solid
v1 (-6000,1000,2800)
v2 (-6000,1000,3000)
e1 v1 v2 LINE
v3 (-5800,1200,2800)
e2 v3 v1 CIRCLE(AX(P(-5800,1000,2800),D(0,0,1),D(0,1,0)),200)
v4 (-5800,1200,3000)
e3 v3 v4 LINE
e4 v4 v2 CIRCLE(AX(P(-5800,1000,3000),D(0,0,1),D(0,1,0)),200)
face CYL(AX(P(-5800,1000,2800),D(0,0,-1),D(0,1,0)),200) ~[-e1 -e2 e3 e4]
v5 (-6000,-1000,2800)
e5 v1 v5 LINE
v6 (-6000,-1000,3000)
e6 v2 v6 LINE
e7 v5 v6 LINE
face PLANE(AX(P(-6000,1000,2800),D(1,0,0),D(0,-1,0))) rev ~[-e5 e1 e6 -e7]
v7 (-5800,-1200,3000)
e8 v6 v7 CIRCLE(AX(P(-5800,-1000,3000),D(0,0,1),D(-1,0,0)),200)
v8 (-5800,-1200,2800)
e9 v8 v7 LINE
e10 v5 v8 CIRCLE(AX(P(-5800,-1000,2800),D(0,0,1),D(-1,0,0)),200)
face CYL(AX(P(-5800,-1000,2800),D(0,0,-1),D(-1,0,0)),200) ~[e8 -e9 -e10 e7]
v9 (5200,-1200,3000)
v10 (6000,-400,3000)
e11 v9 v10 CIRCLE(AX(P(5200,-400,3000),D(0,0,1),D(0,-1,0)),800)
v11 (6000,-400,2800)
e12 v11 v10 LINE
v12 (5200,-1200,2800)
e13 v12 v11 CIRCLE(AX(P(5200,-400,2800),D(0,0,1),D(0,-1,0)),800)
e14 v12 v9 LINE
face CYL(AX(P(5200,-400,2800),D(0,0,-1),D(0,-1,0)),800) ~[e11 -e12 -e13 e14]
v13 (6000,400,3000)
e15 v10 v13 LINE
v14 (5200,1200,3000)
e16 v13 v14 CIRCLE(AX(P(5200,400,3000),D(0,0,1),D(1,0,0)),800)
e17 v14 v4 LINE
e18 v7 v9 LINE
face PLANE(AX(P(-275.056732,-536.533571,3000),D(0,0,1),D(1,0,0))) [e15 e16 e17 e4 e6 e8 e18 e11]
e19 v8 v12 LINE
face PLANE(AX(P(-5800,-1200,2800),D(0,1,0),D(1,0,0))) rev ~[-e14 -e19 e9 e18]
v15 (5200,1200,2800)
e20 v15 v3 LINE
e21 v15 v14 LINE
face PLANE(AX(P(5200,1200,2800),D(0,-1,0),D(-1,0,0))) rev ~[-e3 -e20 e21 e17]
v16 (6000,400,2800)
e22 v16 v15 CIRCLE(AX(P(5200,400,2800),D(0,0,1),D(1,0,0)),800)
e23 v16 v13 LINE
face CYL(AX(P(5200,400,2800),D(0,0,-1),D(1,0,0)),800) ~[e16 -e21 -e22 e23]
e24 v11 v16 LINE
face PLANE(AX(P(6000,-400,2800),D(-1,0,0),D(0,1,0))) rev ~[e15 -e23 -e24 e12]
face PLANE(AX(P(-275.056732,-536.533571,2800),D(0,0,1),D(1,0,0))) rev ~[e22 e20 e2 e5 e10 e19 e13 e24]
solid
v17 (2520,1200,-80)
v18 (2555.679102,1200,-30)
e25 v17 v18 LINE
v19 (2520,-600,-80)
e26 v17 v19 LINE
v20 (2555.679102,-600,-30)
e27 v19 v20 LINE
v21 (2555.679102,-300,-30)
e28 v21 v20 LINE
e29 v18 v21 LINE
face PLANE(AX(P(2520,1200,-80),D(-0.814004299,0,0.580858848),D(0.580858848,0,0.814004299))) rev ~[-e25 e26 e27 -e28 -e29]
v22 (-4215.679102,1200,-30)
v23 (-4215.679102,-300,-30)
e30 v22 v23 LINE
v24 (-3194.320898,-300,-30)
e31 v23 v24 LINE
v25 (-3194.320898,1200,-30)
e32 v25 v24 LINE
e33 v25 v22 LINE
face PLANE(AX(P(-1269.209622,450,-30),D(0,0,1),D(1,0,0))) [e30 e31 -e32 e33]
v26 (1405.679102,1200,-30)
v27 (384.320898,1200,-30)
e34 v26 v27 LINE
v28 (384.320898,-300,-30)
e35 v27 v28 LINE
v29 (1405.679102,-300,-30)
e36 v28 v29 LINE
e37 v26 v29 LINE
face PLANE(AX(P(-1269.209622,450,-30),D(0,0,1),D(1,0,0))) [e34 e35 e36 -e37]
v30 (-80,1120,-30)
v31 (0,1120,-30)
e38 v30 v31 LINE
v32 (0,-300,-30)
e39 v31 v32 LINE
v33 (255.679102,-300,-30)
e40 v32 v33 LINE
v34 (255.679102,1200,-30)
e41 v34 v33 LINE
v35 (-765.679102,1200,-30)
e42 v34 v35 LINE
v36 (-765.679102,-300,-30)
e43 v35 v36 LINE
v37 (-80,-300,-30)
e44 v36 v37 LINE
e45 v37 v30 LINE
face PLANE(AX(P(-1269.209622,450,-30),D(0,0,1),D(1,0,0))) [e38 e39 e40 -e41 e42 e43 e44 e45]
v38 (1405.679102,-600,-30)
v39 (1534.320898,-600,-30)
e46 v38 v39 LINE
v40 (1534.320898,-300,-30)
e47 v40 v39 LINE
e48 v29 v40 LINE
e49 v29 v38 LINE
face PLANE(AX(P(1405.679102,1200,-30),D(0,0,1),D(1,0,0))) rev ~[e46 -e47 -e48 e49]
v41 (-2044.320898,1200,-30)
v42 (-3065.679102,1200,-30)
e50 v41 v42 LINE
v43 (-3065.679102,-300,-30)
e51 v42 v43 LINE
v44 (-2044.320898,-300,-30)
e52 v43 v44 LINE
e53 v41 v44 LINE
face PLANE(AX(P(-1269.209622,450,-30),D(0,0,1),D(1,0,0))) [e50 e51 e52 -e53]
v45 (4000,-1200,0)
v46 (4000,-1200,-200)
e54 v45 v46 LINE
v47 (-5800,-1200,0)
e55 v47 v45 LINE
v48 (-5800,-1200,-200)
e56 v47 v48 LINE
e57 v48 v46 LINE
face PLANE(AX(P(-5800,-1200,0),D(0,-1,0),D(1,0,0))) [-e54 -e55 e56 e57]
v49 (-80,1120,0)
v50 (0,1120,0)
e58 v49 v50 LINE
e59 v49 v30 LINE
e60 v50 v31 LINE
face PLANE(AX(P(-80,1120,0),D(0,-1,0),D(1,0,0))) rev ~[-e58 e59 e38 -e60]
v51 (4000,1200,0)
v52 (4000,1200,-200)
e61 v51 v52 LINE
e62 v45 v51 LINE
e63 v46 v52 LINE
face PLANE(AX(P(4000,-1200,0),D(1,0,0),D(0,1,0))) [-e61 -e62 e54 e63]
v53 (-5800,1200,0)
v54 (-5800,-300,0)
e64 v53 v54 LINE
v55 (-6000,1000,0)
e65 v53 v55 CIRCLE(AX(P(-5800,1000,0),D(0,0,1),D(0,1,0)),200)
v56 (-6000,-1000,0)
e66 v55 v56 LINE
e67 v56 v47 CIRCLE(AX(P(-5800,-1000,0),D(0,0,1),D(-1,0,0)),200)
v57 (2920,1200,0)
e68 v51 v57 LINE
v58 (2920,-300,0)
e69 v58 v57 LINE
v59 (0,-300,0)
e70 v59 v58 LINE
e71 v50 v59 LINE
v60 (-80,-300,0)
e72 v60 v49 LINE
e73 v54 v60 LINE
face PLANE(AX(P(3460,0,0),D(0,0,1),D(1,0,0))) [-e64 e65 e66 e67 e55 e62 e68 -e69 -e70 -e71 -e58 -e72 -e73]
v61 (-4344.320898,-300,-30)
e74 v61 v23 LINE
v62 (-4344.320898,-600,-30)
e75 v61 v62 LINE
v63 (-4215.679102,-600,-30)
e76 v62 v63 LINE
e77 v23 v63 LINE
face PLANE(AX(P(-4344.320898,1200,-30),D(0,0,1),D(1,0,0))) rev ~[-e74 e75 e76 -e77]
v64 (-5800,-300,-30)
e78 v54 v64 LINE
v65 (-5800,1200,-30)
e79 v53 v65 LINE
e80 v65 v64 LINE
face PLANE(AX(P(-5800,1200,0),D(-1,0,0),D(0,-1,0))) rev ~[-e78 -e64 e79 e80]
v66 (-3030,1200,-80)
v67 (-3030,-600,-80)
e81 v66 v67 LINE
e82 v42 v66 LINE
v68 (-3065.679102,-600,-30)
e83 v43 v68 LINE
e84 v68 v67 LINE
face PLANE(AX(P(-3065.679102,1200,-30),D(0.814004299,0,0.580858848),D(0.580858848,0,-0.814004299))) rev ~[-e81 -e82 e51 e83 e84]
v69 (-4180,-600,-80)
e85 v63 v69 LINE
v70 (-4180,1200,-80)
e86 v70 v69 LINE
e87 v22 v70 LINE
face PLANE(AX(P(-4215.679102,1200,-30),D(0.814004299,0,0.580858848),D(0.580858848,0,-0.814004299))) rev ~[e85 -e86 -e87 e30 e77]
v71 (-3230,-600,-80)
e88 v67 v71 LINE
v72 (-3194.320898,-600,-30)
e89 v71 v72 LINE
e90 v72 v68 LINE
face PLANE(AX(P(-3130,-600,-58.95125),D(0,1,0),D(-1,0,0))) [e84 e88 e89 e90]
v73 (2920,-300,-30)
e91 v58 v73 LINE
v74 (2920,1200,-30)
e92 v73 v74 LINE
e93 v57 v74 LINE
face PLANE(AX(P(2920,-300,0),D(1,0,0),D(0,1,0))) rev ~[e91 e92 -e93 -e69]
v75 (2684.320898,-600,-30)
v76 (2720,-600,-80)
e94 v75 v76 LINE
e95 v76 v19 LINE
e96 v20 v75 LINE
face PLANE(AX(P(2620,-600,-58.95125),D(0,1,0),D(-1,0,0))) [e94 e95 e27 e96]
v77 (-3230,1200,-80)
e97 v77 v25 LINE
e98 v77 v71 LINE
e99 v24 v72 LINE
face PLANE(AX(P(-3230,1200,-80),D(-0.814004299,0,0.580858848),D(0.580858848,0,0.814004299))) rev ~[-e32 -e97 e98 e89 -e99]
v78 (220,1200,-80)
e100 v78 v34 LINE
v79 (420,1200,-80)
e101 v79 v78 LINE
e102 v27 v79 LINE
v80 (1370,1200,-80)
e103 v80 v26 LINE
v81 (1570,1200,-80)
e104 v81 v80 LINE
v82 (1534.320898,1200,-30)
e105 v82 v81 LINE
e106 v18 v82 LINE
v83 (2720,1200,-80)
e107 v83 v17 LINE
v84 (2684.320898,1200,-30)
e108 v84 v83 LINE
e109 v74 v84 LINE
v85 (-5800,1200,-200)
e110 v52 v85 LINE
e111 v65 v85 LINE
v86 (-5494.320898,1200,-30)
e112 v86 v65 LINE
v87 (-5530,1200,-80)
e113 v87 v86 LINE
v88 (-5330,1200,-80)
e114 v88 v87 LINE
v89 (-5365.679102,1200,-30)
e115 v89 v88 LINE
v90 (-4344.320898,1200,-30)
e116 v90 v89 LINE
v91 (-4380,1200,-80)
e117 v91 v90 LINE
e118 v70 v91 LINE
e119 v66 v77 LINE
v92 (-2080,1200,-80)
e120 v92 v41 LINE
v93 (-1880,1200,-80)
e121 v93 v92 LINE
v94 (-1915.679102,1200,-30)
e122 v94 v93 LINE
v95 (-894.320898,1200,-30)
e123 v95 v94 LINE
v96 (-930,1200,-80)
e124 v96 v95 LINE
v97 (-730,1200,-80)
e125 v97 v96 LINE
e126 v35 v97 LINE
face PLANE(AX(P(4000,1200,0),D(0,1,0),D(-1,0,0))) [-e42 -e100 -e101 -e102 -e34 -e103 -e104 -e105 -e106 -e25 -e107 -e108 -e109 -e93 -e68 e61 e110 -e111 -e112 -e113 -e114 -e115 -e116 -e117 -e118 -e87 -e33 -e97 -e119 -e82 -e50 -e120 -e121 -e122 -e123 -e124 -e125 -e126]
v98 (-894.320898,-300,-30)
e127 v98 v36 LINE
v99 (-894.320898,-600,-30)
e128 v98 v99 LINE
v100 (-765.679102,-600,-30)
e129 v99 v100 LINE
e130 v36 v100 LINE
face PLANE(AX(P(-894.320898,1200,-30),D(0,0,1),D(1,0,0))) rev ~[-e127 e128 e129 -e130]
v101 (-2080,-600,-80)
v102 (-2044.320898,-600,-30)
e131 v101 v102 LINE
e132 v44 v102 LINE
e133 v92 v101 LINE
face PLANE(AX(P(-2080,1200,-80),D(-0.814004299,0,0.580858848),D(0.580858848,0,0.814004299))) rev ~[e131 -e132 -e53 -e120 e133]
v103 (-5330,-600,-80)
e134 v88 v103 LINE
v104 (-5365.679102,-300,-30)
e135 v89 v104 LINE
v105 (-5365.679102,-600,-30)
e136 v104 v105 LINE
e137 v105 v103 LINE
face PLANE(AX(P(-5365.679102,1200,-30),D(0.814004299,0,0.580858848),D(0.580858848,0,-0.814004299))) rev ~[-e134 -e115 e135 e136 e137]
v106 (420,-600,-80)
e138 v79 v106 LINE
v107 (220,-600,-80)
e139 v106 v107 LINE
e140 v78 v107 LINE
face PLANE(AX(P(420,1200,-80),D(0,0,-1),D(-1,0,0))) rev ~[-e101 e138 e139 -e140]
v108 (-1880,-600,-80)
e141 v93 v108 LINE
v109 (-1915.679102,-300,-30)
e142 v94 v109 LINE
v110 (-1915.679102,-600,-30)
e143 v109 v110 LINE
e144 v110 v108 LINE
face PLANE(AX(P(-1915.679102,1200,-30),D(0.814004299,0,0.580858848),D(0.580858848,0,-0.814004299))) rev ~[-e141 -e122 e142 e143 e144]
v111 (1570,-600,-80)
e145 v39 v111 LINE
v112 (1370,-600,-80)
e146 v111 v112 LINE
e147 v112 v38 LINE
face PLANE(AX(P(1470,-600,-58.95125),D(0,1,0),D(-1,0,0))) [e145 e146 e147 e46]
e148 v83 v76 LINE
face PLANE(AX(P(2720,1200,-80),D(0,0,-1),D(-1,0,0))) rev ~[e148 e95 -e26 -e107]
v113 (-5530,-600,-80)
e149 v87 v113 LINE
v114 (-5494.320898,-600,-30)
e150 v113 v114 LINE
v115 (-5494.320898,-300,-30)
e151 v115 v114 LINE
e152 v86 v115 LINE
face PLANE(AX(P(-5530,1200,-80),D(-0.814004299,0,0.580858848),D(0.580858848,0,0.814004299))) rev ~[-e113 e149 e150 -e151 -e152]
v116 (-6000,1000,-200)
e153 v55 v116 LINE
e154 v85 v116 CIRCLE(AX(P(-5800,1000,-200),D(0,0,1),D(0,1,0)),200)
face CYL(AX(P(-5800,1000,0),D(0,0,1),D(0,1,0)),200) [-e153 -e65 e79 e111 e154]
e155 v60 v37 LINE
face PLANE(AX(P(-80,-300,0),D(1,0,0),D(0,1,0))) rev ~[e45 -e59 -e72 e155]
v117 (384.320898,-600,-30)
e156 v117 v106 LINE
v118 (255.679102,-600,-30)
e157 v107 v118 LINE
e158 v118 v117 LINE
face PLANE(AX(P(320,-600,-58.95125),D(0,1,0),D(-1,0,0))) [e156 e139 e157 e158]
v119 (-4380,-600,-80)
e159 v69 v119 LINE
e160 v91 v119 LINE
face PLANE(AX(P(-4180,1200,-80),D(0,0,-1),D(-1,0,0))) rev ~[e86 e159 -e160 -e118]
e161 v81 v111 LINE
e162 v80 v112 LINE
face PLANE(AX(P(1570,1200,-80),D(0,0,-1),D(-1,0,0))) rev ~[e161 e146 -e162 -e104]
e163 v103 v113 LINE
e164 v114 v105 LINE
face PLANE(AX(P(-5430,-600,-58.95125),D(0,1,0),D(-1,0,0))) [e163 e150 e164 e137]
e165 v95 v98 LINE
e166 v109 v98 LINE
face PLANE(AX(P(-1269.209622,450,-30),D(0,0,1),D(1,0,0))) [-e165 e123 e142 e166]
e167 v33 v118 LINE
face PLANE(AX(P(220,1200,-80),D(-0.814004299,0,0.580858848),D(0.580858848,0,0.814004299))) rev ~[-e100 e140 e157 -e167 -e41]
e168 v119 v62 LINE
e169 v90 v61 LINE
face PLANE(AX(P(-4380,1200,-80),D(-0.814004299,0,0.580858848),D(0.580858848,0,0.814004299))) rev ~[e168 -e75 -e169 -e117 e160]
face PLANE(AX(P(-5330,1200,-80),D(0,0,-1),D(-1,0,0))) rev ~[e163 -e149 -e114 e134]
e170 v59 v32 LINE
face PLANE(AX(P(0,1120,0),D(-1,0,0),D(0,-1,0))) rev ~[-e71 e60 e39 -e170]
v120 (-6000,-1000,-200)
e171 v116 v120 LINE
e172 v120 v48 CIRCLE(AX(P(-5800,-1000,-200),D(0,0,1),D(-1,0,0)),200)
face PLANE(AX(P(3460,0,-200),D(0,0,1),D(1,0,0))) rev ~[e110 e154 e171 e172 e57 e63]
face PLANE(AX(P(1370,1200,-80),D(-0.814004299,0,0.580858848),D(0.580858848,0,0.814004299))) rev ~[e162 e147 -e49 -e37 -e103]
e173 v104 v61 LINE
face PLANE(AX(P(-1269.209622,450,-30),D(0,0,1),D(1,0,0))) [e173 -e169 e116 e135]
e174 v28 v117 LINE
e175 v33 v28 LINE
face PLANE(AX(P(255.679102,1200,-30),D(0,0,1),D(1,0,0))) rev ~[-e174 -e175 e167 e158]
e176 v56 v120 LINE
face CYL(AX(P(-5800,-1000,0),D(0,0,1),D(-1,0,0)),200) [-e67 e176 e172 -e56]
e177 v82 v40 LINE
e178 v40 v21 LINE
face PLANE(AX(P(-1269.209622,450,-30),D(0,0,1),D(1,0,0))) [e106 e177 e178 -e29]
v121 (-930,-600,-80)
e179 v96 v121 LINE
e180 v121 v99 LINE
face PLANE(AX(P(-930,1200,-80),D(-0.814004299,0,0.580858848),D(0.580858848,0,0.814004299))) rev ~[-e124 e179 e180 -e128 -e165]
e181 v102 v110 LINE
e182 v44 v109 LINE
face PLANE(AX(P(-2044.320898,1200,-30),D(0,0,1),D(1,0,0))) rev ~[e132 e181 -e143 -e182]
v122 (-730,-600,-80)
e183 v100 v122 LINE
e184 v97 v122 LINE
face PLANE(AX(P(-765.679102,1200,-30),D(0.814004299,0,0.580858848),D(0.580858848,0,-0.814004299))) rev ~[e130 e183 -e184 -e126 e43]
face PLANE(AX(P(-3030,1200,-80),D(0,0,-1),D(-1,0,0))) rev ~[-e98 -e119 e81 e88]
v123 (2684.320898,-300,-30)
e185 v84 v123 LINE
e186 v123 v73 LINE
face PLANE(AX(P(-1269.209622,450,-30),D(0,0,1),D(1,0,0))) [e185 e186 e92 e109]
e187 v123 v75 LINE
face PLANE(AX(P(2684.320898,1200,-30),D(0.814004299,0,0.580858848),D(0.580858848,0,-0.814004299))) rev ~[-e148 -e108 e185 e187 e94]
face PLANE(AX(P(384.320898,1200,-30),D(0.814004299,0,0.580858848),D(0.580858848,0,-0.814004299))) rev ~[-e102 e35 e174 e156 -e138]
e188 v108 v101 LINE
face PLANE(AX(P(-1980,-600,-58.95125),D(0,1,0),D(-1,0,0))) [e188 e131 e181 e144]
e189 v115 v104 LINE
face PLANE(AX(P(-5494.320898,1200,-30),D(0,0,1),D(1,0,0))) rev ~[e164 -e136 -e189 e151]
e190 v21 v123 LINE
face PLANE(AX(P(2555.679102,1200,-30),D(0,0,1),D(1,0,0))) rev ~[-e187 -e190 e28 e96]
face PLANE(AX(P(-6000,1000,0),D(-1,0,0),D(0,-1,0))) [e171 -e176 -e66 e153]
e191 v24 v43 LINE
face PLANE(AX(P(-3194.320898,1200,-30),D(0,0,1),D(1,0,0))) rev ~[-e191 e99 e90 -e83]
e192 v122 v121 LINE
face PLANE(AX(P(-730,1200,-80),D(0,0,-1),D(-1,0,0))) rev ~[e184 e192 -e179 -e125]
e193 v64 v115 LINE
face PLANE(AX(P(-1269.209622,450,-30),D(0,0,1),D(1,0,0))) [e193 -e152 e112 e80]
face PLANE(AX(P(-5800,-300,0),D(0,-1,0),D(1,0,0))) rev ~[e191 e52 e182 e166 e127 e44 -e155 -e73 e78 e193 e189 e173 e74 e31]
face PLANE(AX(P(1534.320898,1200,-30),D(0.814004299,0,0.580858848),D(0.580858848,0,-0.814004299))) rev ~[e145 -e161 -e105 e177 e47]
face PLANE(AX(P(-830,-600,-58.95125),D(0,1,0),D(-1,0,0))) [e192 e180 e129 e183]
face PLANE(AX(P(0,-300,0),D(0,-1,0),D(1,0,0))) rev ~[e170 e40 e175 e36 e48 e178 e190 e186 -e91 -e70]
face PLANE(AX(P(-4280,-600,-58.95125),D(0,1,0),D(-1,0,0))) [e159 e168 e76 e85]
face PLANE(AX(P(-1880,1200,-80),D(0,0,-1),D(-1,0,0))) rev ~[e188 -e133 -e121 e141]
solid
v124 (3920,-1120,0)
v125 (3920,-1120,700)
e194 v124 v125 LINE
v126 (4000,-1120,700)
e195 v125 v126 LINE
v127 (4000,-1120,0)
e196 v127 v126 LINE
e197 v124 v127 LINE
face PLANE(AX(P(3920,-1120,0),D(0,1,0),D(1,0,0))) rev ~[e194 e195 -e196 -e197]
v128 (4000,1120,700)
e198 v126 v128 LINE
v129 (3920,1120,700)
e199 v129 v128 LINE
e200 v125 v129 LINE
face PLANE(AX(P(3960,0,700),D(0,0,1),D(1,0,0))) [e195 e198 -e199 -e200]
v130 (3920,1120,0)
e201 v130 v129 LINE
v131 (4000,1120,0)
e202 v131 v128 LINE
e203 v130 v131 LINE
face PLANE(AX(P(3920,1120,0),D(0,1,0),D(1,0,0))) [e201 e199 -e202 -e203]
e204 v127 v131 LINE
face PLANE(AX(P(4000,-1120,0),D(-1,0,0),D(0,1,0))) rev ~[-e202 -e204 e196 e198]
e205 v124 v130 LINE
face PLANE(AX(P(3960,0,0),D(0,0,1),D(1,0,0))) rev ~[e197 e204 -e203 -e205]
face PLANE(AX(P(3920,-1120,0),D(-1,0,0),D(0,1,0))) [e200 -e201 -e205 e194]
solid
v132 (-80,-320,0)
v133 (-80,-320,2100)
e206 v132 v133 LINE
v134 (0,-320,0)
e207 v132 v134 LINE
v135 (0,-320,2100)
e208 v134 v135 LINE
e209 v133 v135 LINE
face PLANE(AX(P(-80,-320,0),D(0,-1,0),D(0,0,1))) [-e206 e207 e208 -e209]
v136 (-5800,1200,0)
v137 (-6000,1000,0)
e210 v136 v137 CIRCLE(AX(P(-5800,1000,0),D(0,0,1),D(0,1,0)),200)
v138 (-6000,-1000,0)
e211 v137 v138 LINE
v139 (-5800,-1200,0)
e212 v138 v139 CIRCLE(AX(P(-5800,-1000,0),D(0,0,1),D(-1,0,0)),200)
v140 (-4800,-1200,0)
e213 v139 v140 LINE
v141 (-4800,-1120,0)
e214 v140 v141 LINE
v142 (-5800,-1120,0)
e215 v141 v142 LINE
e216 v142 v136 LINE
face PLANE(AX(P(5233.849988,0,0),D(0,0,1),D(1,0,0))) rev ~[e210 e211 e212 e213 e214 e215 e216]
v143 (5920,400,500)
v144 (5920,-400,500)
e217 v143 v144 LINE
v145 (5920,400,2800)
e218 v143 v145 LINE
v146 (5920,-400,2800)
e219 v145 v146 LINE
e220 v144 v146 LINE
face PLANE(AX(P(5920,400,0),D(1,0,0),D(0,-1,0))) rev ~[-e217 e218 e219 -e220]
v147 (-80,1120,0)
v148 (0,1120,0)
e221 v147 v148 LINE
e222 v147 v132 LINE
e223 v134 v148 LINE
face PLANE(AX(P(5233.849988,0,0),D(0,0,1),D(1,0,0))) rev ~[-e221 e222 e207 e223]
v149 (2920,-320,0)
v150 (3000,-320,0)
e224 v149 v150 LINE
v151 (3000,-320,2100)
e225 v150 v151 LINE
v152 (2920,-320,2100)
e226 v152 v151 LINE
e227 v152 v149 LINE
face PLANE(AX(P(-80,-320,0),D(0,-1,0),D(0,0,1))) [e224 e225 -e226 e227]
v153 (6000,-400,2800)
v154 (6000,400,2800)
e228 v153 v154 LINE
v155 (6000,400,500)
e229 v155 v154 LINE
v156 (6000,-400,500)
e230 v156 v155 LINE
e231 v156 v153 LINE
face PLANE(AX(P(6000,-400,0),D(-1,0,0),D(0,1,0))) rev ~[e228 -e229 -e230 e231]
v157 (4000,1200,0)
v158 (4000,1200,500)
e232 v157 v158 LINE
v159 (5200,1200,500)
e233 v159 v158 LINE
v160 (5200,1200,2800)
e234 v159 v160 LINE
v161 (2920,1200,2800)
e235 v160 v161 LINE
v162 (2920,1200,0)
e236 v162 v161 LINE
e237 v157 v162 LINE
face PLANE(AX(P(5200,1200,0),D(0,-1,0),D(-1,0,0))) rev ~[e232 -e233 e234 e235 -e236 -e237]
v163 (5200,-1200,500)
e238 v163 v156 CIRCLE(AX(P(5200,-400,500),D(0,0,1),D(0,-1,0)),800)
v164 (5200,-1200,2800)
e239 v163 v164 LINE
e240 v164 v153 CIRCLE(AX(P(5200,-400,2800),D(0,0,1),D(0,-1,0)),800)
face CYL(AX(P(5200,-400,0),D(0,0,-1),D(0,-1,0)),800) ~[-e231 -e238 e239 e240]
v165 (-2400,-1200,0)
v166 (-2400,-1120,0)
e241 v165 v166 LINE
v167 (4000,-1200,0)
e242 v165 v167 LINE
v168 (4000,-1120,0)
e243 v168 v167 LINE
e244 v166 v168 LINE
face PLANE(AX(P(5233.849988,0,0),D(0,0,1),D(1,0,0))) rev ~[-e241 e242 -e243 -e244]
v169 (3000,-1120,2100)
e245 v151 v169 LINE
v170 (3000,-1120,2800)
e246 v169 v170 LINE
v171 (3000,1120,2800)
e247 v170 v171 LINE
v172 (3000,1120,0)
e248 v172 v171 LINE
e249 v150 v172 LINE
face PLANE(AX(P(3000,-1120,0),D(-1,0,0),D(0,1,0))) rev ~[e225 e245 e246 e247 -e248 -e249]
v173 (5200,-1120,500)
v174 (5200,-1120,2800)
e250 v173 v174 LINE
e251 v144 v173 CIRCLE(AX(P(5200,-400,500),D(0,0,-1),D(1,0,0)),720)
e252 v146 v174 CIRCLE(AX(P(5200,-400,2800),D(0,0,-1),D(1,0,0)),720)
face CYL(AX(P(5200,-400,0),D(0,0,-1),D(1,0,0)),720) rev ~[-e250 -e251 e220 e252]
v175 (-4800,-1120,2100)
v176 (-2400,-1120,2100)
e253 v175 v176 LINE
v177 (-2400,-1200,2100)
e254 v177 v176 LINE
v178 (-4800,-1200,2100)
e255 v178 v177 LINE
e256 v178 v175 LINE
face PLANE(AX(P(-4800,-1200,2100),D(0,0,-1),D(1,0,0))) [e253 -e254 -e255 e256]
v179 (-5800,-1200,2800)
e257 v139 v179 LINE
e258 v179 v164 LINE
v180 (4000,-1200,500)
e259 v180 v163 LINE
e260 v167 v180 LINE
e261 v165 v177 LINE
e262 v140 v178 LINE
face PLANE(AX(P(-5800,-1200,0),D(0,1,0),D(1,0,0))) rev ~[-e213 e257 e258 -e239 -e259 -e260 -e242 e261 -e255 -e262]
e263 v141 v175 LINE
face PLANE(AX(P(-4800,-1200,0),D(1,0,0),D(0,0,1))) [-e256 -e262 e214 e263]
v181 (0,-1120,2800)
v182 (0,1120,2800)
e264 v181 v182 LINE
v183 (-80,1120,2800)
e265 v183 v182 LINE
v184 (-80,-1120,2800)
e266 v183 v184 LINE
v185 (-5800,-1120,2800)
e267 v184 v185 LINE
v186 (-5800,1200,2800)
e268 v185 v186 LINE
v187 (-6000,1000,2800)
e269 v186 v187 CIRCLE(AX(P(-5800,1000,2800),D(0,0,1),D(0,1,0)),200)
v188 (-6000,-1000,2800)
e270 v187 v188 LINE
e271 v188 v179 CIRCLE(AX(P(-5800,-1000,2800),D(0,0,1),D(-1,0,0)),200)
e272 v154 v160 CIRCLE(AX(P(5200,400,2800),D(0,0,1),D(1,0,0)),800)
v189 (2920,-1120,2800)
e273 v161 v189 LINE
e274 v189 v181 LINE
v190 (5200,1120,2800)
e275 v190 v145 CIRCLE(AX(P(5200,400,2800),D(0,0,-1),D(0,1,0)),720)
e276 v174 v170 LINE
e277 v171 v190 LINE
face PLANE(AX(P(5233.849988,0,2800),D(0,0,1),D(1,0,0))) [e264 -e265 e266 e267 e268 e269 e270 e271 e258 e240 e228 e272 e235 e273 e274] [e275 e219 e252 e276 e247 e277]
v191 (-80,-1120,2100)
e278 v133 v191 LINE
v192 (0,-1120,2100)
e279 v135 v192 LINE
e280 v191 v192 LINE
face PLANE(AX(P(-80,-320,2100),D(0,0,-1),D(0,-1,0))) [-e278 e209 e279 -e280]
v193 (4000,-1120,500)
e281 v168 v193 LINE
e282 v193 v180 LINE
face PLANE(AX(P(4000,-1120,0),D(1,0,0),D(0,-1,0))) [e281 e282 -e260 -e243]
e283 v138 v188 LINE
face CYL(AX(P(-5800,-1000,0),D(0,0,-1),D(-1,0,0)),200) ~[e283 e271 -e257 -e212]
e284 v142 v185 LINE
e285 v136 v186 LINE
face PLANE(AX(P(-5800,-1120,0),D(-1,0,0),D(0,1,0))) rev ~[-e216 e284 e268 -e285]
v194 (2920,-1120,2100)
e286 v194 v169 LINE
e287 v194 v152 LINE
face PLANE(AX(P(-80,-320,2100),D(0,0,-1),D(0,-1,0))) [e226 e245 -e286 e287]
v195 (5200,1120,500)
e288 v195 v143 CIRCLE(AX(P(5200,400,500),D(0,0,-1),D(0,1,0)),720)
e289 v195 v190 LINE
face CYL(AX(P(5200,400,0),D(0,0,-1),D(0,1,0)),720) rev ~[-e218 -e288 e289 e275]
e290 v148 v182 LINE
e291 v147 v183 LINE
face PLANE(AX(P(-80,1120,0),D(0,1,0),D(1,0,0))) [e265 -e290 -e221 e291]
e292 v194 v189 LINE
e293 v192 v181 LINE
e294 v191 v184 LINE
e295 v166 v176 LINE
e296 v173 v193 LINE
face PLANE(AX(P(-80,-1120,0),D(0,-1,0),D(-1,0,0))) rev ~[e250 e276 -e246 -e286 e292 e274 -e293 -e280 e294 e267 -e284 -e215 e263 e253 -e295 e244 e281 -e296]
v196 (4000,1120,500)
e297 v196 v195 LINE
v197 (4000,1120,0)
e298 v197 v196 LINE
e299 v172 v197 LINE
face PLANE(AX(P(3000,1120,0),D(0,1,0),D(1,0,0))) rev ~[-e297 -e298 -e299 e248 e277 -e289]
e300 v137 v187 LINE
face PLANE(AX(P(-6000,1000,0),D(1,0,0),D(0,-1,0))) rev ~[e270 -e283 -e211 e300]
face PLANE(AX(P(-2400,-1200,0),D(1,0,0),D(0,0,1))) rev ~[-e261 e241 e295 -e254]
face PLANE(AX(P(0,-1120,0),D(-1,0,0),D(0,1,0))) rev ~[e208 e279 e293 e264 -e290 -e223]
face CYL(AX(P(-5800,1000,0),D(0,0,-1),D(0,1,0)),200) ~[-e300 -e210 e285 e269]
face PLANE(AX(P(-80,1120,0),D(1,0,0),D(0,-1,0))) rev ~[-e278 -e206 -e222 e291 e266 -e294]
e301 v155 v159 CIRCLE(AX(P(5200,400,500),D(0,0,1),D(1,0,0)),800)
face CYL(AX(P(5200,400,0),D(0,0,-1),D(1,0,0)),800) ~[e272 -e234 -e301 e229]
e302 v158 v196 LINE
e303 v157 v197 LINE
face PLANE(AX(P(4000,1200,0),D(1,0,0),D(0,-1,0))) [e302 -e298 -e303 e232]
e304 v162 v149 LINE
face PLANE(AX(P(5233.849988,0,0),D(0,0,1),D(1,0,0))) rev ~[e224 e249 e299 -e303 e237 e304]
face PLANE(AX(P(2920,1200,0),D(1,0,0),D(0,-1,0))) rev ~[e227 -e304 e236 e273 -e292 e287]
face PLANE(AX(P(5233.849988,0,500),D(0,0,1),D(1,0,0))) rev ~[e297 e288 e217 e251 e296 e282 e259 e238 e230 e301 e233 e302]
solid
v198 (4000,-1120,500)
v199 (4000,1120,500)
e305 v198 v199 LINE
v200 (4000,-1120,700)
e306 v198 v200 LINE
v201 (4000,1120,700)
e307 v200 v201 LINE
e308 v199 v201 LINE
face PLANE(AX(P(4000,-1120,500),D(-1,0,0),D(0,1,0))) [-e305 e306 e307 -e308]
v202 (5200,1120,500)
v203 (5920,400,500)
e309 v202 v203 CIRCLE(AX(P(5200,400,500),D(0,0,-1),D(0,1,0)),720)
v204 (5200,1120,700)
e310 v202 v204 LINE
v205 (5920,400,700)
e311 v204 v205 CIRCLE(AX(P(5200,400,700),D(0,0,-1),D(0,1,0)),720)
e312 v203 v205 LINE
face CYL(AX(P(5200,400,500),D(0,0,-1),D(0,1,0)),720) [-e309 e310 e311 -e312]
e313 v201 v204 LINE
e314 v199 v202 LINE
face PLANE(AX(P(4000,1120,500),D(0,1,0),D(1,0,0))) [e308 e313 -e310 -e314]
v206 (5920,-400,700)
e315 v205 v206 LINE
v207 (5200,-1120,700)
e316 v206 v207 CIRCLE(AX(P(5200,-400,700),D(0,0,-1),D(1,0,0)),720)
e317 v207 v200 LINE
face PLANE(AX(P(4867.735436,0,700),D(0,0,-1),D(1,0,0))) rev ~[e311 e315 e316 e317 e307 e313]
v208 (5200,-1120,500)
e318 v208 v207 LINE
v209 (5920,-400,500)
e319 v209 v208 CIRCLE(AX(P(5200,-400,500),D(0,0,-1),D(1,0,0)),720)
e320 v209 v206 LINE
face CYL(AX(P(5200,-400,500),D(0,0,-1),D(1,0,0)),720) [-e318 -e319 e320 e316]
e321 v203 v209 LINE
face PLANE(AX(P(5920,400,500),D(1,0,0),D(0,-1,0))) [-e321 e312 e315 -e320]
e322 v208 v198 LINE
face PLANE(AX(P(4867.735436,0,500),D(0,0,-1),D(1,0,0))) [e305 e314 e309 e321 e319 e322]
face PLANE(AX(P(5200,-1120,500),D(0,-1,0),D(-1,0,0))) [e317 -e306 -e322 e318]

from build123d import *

# Parameters (mm, degrees)
F0_W      = 80
F0_H      = 820
F0_H_2    = 1420
F1_DEPTH  = 2800
F0_W_2    = 920
F0_H_3    = 2240
F0_W_3    = 5720
F0_W_4    = 2920
F2_DEPTH  = 200
F3_W      = 2400
F3_H      = 2100
F4_DEPTH  = 1454.2702436447
F5_W      = 800
F5_H      = 2100
F6_DEPTH  = 3837.007522583
F7_DEPTH  = 30
F9_DEPTH  = 1800
F10_DEPTH = 500
F11_DEPTH = 700
F13_DEPTH = 200
F15_DEPTH = 200


with BuildPart() as f1:
    # F0 (on Top) → F1 (new body)
    with BuildSketch(Plane.XY):
        with BuildLine():
            Line((4000, -1200), (5200, -1200))
            ThreePointArc((5200, -1200), (5765.6854249492, -965.6854249492), (6000, -400))
            Line((6000, -400), (6000, 400))
            ThreePointArc((6000, 400), (5765.6854249492, 965.6854249492), (5200, 1200))
            Line((5200, 1200), (4000, 1200))
            Line((4000, 1200), (4000, 1120))
            Line((4000, 1120), (5200, 1120))
            ThreePointArc((5200, 1120), (5709.1168824543, 909.1168824543), (5920, 400))
            Line((5920, 400), (5920, -400))
            ThreePointArc((5920, -400), (5709.1168824543, -909.1168824543), (5200, -1120))
            Line((5200, -1120), (4000, -1120))
            Line((4000, -1120), (4000, -1200))
        make_face()
        with BuildLine():
            Line((-5800, -1200), (4000, -1200))
            Line((4000, -1200), (4000, -1120))
            Line((4000, -1120), (3920, -1120))
            Line((3920, -1120), (3000, -1120))
            Line((3000, -1120), (2920, -1120))
            Line((2920, -1120), (0, -1120))
            Line((0, -1120), (-80, -1120))
            Line((-80, -1120), (-5800, -1120))
            Line((-5800, -1120), (-5800, -300))
            Line((-5800, -300), (-5800, 1200))
            ThreePointArc((-5800, 1200), (-5941.4213562373, 1141.4213562373), (-6000, 1000))
            Line((-6000, 1000), (-6000, -1000))
            ThreePointArc((-6000, -1000), (-5941.4213562373, -1141.4213562373), (-5800, -1200))
        make_face()
        with Locations((-40, -710)):
            Rectangle(F0_W, F0_H)
        with Locations((-40, 410)):
            Rectangle(F0_W, F0_H_2)
        Polygon((3920, 1120), (4000, 1120), (4000, 1200), (2920, 1200), (2920, -300), (2920, -1120), (3000, -1120), (3000, 1120), align=None)
    extrude(amount=F1_DEPTH)

    # F3 (on face) → F4 (cut)
    with BuildSketch(Plane.XZ.offset(1200)):
        with Locations((-3600, 1050)):
            Rectangle(F3_W, F3_H)
    extrude(amount=-F4_DEPTH, mode=Mode.SUBTRACT)

    # F5 (on face) → F6 (cut)
    with BuildSketch(Plane(origin=(-80, 0, 0), x_dir=(0, -1, 0), z_dir=(-1, 0, 0))):
        with Locations((720, 1050)):
            Rectangle(F5_W, F5_H)
    extrude(amount=-F6_DEPTH, mode=Mode.SUBTRACT)

    # F0 (on Top) → F10 (cut)
    with BuildSketch(Plane.XY):
        with BuildLine():
            Line((4000, -1200), (5200, -1200))
            ThreePointArc((5200, -1200), (5765.6854249492, -965.6854249492), (6000, -400))
            Line((6000, -400), (6000, 400))
            ThreePointArc((6000, 400), (5765.6854249492, 965.6854249492), (5200, 1200))
            Line((5200, 1200), (4000, 1200))
            Line((4000, 1200), (4000, 1120))
            Line((4000, 1120), (5200, 1120))
            ThreePointArc((5200, 1120), (5709.1168824543, 909.1168824543), (5920, 400))
            Line((5920, 400), (5920, -400))
            ThreePointArc((5920, -400), (5709.1168824543, -909.1168824543), (5200, -1120))
            Line((5200, -1120), (4000, -1120))
            Line((4000, -1120), (4000, -1200))
        make_face()
    extrude(amount=F10_DEPTH, mode=Mode.SUBTRACT)


with BuildPart() as f2:
    # F0 (on Top) → F2 (new body)
    with BuildSketch(Plane.XY):
        with Locations((3460, 0)):
            Rectangle(F0_W_2, F0_H_3)
        with Locations((-40, -710)):
            Rectangle(F0_W, F0_H)
        with Locations((-40, 410)):
            Rectangle(F0_W, F0_H_2)
        with Locations((-2940, -710)):
            Rectangle(F0_W_3, F0_H)
        with Locations((1460, -710)):
            Rectangle(F0_W_4, F0_H)
        Polygon((2920, 1200), (-5800, 1200), (-5800, -300), (-80, -300), (-80, 1120), (0, 1120), (0, -300), (2920, -300), align=None)
        with BuildLine():
            Line((-5800, -1200), (4000, -1200))
            Line((4000, -1200), (4000, -1120))
            Line((4000, -1120), (3920, -1120))
            Line((3920, -1120), (3000, -1120))
            Line((3000, -1120), (2920, -1120))
            Line((2920, -1120), (0, -1120))
            Line((0, -1120), (-80, -1120))
            Line((-80, -1120), (-5800, -1120))
            Line((-5800, -1120), (-5800, -300))
            Line((-5800, -300), (-5800, 1200))
            ThreePointArc((-5800, 1200), (-5941.4213562373, 1141.4213562373), (-6000, 1000))
            Line((-6000, 1000), (-6000, -1000))
            ThreePointArc((-6000, -1000), (-5941.4213562373, -1141.4213562373), (-5800, -1200))
        make_face()
        Polygon((3920, 1120), (4000, 1120), (4000, 1200), (2920, 1200), (2920, -300), (2920, -1120), (3000, -1120), (3000, 1120), align=None)
        with Locations((3960, 0)):
            Rectangle(F0_W, F0_H_3)
    extrude(amount=-F2_DEPTH)

    # F0 (on Top) → F7 (cut)
    with BuildSketch(Plane.XY):
        Polygon((2920, 1200), (-5800, 1200), (-5800, -300), (-80, -300), (-80, 1120), (0, 1120), (0, -300), (2920, -300), align=None)
    extrude(amount=-F7_DEPTH, mode=Mode.SUBTRACT)

    # F8 (on face) → F9 (cut)
    with BuildSketch(Plane(origin=(0, 1200, 0), x_dir=(-1, 0, 0), z_dir=(0, 1, 0))):
        Polygon((-2555.679101944, -30), (-2684.320898056, -30), (-2720, -80), (-2520, -80), align=None)
        Polygon((-1405.679101944, -30), (-1534.320898056, -30), (-1570, -80), (-1370, -80), align=None)
        Polygon((-255.679101944, -30), (-384.320898056, -30), (-420, -80), (-220, -80), align=None)
        Polygon((2080, -80), (2044.320898056, -30), (1915.679101944, -30), (1880, -80), align=None)
        Polygon((894.320898056, -30), (765.679101944, -30), (730, -80), (930, -80), align=None)
        Polygon((3230, -80), (3194.320898056, -30), (3065.679101944, -30), (3030, -80), align=None)
        Polygon((4380, -80), (4344.320898056, -30), (4215.679101944, -30), (4180, -80), align=None)
        Polygon((5530, -80), (5494.320898056, -30), (5365.679101944, -30), (5330, -80), align=None)
    extrude(amount=-F9_DEPTH, mode=Mode.SUBTRACT)


with BuildPart() as f11:
    # F0 (on Top) → F11 (new body)
    with BuildSketch(Plane.XY):
        with Locations((3960, 0)):
            Rectangle(F0_W, F0_H_3)
    extrude(amount=F11_DEPTH)


with BuildPart() as f13:
    # F12 (on face) → F13 (new body)
    with BuildSketch(Plane(origin=(0, 0, 500), x_dir=(1, 0, 0), z_dir=(0, 0, -1))):
        with BuildLine():
            Line((4000, 1120), (4000, -1120))
            Line((4000, -1120), (5200, -1120))
            ThreePointArc((5200, -1120), (5709.1168824543, -909.1168824543), (5920, -400))
            Line((5920, -400), (5920, 400))
            ThreePointArc((5920, 400), (5709.1168824543, 909.1168824543), (5200, 1120))
            Line((5200, 1120), (4000, 1120))
        make_face()
    extrude(amount=-F13_DEPTH)


with BuildPart() as f15:
    # F14 (on face) → F15 (new body)
    with BuildSketch(Plane.XY.offset(2800)):
        with BuildLine():
            Line((-5800, -1200), (5200, -1200))
            ThreePointArc((5200, -1200), (5765.6854249492, -965.6854249492), (6000, -400))
            Line((6000, -400), (6000, 400))
            ThreePointArc((6000, 400), (5765.6854249492, 965.6854249492), (5200, 1200))
            Line((5200, 1200), (2920, 1200))
            Line((2920, 1200), (2920, -1120))
            Line((2920, -1120), (0, -1120))
            Line((0, -1120), (0, 1120))
            Line((0, 1120), (-80, 1120))
            Line((-80, 1120), (-80, -1120))
            Line((-80, -1120), (-5800, -1120))
            Line((-5800, -1120), (-5800, 1200))
            ThreePointArc((-5800, 1200), (-5941.4213562373, 1141.4213562373), (-6000, 1000))
            Line((-6000, 1000), (-6000, -1000))
            ThreePointArc((-6000, -1000), (-5941.4213562373, -1141.4213562373), (-5800, -1200))
        make_face()
        with BuildLine():
            Line((5920, 400), (5920, -400))
            ThreePointArc((5920, -400), (5709.1168824543, -909.1168824543), (5200, -1120))
            Line((5200, -1120), (3000, -1120))
            Line((3000, -1120), (3000, 1120))
            Line((3000, 1120), (5200, 1120))
            ThreePointArc((5200, 1120), (5709.1168824543, 909.1168824543), (5920, 400))
        make_face(mode=Mode.SUBTRACT)
        with BuildLine():
            ThreePointArc((5200, -1120), (5709.1168824543, -909.1168824543), (5920, -400))
            Line((5920, -400), (5920, 400))
            ThreePointArc((5920, 400), (5709.1168824543, 909.1168824543), (5200, 1120))
            Line((5200, 1120), (3000, 1120))
            Line((3000, 1120), (3000, -1120))
            Line((3000, -1120), (5200, -1120))
        make_face()
        Polygon((2920, 1200), (-5800, 1200), (-5800, -1120), (-80, -1120), (-80, 1120), (0, 1120), (0, -1120), (2920, -1120), align=None)
    extrude(amount=F15_DEPTH)


solid = Compound([f1.part, f2.part, f11.part, f13.part, f15.part])
